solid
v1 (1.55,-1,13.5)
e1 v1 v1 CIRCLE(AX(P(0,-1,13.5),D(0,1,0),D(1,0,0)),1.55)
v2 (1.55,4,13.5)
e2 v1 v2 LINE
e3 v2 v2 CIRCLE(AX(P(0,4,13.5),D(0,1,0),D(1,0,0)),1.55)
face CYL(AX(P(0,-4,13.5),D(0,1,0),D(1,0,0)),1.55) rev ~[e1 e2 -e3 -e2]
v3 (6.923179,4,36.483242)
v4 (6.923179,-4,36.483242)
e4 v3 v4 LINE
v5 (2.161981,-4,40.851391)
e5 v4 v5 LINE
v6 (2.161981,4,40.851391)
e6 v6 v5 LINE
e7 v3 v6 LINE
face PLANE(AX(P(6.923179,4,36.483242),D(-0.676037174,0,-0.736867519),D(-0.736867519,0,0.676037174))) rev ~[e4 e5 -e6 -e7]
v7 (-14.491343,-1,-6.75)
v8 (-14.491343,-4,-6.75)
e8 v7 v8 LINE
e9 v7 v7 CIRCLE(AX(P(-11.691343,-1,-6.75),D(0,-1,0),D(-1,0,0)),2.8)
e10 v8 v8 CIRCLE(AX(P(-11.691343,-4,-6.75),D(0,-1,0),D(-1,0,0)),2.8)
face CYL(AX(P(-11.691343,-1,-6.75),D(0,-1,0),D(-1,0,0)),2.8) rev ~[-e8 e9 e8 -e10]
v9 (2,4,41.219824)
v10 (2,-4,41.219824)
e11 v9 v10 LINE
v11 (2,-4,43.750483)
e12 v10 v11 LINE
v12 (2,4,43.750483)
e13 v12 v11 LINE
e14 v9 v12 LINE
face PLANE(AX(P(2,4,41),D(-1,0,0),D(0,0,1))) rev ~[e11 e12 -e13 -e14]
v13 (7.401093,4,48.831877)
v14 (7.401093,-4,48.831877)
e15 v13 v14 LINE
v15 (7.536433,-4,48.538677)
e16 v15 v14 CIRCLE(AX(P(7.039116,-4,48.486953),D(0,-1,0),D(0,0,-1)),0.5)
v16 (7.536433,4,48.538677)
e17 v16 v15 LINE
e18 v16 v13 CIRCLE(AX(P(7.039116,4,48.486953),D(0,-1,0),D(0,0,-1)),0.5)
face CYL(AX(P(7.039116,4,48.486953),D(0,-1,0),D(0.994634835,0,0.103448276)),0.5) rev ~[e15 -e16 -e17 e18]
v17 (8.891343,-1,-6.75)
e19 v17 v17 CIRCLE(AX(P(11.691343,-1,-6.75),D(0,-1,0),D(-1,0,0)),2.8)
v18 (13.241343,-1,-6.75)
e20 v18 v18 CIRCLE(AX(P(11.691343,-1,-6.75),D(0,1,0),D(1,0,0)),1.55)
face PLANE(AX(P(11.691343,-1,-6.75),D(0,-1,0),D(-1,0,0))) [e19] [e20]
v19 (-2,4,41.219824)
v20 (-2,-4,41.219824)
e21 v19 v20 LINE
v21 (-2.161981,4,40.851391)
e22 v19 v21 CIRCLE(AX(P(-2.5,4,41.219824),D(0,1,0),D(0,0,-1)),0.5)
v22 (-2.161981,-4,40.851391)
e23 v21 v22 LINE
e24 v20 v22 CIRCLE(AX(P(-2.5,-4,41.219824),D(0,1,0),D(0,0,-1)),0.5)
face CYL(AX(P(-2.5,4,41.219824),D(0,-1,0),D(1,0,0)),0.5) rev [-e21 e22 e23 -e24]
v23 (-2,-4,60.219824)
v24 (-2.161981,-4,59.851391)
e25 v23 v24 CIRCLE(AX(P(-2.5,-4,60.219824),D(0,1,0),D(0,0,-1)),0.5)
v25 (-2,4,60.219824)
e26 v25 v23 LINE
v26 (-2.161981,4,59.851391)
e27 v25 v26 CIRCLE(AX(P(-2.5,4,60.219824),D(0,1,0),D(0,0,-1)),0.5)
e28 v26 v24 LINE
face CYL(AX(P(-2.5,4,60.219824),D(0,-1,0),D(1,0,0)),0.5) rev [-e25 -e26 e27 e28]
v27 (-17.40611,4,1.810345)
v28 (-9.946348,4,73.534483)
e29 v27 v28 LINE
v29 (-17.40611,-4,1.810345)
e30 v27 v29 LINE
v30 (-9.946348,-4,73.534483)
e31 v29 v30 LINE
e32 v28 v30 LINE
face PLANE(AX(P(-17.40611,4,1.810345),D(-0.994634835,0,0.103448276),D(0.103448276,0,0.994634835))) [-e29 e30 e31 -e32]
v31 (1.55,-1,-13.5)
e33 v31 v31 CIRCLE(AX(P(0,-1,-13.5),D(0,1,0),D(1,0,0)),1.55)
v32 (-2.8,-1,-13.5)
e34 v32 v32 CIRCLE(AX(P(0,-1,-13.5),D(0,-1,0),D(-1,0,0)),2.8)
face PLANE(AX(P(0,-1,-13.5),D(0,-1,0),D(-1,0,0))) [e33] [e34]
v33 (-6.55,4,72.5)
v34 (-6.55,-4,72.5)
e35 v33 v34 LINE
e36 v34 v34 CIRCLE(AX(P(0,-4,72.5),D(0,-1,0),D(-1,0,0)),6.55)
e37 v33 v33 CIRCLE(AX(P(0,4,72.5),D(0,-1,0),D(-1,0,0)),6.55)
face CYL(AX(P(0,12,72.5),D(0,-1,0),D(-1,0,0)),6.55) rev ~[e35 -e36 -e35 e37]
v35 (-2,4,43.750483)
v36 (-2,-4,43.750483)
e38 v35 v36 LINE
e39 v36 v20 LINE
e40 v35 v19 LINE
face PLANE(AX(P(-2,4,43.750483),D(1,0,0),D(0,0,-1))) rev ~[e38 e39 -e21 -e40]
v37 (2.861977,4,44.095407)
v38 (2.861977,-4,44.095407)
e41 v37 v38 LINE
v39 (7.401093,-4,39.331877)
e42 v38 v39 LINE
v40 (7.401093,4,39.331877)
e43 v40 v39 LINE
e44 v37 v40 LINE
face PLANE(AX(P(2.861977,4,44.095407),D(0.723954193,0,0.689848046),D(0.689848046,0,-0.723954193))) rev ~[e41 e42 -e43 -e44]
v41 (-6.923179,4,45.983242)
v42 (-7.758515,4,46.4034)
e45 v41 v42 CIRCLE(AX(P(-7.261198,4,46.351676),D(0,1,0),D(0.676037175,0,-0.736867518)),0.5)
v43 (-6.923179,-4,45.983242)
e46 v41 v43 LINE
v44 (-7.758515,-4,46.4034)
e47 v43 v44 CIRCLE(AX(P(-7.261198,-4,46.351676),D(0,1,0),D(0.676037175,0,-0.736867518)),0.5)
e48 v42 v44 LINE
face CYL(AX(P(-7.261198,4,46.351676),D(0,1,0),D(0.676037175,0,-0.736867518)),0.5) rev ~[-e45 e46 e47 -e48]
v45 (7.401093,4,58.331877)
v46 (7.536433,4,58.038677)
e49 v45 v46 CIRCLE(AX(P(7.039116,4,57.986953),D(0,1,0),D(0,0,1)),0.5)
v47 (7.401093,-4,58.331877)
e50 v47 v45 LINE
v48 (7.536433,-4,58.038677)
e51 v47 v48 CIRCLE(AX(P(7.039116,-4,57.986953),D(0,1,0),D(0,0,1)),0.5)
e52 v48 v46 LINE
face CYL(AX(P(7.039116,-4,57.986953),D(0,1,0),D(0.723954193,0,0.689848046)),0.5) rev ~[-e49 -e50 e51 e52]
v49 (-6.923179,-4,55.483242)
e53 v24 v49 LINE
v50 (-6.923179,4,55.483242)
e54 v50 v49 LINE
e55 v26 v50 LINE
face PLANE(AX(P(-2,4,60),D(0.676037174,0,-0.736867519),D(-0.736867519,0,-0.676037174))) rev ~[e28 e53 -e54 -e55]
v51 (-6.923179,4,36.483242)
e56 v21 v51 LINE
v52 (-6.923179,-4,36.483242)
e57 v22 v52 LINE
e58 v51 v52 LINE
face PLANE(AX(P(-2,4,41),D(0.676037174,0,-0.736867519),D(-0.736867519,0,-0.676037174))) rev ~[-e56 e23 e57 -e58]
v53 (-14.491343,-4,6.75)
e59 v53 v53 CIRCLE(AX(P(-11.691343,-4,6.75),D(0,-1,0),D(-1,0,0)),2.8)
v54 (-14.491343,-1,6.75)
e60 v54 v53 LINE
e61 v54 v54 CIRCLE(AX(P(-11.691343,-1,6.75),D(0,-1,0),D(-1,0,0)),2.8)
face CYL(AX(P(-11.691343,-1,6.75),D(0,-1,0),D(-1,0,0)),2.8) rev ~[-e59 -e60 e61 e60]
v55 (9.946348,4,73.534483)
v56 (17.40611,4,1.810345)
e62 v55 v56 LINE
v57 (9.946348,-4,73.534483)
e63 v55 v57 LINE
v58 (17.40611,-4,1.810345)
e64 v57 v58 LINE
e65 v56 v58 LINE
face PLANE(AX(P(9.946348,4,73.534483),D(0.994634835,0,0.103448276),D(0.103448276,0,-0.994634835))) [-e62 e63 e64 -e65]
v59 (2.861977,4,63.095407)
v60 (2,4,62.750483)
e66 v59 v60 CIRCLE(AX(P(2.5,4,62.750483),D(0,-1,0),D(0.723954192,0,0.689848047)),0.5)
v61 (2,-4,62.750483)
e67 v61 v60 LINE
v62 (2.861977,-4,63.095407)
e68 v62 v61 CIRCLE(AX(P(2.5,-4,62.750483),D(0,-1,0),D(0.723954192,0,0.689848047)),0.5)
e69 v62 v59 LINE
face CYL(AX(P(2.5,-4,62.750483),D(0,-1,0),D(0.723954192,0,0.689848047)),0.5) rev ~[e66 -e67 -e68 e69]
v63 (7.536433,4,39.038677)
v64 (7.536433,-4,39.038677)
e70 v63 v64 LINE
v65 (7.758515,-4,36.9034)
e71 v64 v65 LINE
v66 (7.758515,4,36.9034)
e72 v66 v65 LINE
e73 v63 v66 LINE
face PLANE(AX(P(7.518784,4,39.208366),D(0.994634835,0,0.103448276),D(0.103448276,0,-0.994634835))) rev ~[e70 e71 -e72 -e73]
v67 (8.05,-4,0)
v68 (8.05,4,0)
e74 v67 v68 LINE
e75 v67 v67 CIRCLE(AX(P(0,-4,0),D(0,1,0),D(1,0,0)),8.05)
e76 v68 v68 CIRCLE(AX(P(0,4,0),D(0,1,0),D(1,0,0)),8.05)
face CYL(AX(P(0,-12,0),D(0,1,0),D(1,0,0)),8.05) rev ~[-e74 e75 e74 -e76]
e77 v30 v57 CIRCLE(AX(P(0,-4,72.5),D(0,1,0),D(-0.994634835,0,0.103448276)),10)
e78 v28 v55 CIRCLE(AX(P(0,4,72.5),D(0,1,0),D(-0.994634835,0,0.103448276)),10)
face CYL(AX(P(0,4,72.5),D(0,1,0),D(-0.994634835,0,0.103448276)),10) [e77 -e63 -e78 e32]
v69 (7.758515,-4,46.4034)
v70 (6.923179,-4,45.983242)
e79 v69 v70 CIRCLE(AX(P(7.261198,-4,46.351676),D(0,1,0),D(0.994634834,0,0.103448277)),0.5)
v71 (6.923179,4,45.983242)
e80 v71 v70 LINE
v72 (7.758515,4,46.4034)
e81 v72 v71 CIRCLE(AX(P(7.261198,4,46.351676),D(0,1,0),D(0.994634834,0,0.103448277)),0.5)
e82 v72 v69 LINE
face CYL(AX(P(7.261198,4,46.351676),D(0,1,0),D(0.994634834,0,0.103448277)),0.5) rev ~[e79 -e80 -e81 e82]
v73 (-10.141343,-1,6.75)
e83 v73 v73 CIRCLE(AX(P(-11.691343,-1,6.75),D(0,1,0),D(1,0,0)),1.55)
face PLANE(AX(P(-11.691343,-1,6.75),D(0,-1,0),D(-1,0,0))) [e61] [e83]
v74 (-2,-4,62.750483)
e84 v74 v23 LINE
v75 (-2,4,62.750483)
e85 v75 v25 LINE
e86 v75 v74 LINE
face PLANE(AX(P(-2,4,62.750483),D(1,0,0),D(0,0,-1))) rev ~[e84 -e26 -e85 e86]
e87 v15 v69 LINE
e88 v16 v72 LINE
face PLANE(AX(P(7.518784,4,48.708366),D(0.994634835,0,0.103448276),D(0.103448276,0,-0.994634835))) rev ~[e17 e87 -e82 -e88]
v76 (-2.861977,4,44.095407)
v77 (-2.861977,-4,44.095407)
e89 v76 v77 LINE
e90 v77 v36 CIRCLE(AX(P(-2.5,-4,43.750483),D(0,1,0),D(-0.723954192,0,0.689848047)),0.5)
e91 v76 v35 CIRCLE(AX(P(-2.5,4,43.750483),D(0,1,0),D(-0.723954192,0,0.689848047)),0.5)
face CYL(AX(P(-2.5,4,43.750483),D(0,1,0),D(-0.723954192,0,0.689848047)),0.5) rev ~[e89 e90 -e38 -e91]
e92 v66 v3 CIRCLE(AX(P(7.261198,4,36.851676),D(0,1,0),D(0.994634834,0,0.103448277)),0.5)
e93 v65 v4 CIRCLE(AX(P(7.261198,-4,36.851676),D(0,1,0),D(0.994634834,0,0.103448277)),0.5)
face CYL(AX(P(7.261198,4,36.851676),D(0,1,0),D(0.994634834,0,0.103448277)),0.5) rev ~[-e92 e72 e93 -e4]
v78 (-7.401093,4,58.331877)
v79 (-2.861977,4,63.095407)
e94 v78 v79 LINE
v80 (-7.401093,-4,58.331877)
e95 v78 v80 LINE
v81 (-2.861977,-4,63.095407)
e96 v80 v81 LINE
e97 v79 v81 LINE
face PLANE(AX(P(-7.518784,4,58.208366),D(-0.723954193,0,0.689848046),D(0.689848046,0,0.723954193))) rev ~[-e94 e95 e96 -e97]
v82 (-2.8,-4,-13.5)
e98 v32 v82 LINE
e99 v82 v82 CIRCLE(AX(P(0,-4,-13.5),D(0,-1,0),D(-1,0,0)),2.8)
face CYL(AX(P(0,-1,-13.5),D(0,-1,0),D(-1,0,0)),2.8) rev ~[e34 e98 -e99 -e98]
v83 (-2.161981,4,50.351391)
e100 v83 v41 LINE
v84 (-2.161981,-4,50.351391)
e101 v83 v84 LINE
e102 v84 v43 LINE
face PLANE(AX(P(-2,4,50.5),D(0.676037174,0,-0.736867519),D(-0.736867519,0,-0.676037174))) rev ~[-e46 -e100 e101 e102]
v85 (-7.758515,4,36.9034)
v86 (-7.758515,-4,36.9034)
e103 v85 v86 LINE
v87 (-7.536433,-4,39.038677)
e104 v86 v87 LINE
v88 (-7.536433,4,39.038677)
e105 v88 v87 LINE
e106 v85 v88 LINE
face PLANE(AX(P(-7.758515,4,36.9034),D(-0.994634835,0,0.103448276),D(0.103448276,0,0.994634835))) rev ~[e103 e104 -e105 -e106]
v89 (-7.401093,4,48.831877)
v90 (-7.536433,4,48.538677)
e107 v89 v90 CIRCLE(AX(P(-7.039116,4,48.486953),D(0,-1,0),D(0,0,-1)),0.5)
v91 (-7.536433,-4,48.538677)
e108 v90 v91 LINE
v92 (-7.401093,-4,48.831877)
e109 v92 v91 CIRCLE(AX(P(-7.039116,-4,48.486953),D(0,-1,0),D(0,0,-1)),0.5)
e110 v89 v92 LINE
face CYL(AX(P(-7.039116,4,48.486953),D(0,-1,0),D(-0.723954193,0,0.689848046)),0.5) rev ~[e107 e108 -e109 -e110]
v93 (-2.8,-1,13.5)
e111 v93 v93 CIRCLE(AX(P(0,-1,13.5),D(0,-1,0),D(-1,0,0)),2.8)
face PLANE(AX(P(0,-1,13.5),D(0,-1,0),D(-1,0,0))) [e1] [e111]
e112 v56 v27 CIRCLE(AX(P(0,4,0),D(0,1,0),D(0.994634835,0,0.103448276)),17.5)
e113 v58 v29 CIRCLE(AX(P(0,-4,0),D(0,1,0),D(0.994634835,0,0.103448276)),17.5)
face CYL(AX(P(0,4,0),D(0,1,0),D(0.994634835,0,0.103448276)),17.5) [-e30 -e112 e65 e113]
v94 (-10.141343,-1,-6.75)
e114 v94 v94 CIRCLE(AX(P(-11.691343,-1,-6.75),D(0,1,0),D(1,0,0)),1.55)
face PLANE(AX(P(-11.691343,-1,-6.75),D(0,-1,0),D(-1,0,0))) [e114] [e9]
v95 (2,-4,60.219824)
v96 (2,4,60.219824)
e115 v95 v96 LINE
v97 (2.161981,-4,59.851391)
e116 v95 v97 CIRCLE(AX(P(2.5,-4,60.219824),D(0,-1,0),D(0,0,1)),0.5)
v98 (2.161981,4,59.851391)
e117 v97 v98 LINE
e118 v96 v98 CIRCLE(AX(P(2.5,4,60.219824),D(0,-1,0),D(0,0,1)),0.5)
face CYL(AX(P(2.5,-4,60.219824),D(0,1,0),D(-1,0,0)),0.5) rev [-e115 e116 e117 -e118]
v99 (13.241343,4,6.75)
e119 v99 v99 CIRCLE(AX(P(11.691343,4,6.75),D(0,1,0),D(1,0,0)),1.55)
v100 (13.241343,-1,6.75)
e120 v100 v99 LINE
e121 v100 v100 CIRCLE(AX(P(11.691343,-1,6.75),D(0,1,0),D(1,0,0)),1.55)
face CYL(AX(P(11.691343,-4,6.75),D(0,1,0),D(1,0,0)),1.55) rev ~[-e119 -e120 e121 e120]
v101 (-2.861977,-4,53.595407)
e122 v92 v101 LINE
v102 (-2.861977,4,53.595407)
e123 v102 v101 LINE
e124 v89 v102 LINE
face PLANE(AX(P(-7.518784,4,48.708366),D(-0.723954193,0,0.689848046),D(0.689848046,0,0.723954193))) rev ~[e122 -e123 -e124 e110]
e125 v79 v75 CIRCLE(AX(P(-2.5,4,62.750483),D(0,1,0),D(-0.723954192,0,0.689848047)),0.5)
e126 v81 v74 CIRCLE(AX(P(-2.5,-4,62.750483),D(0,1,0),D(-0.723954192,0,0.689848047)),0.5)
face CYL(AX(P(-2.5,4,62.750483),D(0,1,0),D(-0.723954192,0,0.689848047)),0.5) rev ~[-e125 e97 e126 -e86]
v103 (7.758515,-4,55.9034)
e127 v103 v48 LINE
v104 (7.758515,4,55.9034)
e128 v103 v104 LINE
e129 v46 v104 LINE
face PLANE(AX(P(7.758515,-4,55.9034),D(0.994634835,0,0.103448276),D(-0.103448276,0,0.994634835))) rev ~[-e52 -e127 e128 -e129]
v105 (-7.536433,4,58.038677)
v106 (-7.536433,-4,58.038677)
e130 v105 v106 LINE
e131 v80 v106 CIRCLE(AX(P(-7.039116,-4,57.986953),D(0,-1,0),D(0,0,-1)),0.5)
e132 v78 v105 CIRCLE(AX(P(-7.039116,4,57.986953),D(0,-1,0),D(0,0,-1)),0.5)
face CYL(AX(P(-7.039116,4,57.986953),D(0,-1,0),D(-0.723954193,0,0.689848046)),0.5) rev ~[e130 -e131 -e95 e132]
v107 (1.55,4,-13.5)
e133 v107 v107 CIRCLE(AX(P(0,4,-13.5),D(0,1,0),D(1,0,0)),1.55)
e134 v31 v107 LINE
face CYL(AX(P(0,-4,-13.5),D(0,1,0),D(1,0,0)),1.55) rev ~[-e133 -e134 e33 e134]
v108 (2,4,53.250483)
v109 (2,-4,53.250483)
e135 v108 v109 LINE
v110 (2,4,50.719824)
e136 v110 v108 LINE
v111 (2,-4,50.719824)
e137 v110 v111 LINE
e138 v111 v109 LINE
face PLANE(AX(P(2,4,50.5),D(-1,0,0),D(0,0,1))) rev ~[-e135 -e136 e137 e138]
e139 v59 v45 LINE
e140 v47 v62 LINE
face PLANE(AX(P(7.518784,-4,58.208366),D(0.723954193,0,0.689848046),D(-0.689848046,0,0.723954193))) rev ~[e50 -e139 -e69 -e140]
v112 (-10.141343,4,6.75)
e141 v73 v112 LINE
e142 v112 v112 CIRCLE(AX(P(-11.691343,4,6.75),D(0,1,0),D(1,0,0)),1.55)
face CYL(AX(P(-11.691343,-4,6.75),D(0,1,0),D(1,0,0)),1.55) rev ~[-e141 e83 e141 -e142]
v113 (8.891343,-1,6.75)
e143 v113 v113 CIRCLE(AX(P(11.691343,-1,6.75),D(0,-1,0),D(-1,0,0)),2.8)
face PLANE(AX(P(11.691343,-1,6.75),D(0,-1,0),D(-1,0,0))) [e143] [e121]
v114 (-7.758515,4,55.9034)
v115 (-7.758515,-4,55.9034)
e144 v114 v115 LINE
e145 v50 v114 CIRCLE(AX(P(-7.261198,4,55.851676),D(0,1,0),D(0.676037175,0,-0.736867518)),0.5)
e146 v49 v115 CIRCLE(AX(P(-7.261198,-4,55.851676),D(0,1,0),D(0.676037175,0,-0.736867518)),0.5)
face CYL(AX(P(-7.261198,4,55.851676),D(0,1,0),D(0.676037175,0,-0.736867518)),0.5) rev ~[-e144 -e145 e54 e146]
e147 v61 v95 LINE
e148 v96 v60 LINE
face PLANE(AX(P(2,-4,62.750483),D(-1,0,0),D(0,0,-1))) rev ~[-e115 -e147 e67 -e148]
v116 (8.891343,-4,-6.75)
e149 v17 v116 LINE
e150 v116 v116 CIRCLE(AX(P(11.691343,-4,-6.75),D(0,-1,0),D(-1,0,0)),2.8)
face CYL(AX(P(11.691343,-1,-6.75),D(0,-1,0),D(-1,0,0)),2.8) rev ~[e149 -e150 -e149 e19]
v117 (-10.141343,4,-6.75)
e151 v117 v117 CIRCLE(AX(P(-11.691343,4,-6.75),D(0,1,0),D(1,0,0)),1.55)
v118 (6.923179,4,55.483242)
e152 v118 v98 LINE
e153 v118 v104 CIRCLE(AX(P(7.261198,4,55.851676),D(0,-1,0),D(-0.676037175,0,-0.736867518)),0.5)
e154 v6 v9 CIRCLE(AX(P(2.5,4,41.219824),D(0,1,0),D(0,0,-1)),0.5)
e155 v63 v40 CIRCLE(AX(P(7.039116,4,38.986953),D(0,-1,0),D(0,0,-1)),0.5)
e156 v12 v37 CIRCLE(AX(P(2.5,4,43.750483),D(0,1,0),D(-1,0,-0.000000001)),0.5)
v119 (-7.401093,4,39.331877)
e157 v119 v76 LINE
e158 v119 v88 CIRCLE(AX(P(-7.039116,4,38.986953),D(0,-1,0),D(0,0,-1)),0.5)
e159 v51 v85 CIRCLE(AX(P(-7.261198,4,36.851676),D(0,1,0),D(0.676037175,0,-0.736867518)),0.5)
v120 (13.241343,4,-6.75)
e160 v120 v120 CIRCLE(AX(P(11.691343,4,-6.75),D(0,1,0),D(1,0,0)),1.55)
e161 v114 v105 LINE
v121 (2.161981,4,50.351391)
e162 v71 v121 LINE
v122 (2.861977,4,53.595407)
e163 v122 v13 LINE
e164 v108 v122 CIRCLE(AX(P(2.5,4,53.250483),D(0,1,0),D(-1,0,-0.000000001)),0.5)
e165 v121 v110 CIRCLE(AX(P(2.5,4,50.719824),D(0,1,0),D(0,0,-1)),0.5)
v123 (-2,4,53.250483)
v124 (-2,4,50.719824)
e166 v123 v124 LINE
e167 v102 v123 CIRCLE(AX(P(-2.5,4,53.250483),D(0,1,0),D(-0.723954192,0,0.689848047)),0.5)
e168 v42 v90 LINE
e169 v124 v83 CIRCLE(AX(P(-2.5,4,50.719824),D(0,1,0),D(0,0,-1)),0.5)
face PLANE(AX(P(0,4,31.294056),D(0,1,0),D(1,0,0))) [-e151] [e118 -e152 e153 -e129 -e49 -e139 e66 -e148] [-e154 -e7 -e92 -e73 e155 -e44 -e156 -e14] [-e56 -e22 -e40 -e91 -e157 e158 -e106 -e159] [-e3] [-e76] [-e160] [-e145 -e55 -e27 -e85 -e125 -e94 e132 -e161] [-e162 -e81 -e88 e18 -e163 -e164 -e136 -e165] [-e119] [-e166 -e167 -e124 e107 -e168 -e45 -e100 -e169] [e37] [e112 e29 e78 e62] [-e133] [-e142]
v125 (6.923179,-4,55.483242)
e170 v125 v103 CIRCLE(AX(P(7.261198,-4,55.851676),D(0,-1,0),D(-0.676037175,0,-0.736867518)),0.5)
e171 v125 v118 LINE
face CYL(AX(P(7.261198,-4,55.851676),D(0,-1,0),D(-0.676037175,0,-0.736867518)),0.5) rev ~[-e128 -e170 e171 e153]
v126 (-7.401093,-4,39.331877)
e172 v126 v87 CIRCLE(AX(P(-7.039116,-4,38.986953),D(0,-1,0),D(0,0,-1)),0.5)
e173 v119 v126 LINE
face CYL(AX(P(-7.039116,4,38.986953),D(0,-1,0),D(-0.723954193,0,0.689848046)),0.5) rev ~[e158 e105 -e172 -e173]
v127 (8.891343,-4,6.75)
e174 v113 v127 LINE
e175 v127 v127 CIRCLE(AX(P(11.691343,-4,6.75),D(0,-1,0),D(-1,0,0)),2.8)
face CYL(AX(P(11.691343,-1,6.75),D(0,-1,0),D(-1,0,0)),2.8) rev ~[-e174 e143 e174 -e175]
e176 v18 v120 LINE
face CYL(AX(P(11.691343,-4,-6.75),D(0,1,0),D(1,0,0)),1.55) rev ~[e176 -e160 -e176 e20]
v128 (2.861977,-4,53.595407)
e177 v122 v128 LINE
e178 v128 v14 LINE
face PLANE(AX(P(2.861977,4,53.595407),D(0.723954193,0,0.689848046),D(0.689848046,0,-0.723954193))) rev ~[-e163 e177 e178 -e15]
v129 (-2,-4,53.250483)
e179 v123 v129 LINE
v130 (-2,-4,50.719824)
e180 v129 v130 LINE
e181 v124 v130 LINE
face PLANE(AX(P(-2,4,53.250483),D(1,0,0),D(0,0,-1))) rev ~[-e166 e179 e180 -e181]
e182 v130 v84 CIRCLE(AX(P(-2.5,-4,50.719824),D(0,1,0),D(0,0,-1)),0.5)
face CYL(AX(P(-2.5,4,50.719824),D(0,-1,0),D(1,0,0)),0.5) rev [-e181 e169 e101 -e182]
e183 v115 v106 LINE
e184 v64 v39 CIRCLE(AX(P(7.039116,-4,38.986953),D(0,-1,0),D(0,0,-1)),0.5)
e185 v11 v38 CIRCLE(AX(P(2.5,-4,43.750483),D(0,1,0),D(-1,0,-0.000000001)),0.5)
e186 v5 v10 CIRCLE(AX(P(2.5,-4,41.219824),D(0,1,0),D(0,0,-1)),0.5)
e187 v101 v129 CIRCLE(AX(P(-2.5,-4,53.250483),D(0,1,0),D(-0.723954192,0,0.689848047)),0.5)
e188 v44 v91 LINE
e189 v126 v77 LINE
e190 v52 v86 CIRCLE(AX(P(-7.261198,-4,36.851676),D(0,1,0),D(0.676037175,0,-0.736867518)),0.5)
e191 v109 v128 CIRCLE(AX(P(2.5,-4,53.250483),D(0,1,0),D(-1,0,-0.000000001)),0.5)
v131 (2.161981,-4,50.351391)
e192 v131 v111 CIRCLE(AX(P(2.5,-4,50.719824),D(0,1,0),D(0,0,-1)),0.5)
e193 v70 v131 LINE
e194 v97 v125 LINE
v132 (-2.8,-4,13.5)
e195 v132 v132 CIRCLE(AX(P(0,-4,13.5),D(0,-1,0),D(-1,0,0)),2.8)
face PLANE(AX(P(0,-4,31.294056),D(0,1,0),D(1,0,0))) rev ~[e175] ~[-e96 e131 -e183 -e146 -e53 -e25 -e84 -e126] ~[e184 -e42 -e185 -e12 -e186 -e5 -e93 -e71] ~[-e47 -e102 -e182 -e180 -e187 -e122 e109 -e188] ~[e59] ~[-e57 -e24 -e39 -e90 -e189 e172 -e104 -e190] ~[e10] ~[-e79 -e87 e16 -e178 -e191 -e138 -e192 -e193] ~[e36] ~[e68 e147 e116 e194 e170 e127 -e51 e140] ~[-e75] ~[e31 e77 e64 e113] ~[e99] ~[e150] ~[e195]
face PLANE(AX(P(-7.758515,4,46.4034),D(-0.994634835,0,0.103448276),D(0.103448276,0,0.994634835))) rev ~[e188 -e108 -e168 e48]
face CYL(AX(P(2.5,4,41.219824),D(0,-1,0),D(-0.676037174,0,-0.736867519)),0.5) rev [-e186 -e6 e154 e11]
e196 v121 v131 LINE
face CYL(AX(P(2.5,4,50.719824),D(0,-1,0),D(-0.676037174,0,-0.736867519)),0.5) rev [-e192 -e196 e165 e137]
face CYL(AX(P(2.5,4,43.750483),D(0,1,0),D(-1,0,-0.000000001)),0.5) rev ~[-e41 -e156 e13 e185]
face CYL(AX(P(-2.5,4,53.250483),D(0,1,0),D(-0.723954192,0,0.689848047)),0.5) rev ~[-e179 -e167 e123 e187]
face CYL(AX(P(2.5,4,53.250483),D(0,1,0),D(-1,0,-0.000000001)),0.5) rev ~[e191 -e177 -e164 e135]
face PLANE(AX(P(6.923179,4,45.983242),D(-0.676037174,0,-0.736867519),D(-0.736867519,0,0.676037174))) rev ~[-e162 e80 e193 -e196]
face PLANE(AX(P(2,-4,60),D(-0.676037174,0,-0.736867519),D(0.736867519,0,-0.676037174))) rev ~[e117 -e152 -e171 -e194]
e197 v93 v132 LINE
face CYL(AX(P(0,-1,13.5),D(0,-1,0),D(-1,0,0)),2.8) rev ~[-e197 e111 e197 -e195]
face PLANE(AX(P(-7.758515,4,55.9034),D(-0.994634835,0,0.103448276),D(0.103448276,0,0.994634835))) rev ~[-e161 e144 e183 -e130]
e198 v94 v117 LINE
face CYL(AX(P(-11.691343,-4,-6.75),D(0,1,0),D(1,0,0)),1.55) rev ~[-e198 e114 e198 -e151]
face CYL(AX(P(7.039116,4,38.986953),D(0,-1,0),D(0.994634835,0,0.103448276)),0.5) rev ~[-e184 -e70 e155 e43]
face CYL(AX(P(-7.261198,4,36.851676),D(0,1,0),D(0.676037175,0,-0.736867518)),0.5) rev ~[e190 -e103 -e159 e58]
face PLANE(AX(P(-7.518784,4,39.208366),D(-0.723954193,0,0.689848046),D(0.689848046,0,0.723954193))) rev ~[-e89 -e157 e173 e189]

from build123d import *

# Parameters (mm, degrees)
EXTRUDE_1_DEPTH                = 8
CUT_EXTRUDE_1_DEPTH            = 9
CUT_EXTRUDE_2_DEPTH            = 9
CUT_EXTRUDE_3_DEPTH            = 9
CUT_EXTRUDE_4_DEPTH            = 9
CUT_EXTRUDE_5_DEPTH            = 9
CUT_EXTRUDE_6_DEPTH            = 9
HOLE_WIZARD_16_0_16_1_D        = 16.1
HOLE_WIZARD_16_0_16_1_DEPTH    = 8
HOLE_WIZARD_13_0_13_1_D        = 13.1
HOLE_WIZARD_13_0_13_1_DEPTH    = 8
HOLE_WIZARD_M2_5_1_D           = 3.1
HOLE_WIZARD_M2_5_1_DEPTH       = 8
HOLE_WIZARD_M2_5_1_CBORE_D     = 5.6
HOLE_WIZARD_M2_5_1_CBORE_DEPTH = 3
FILLET_1_R                     = 0.5


with BuildPart() as part:
    # 草图1 → 凸台-拉伸1 (new body)
    with BuildSketch(Plane(origin=(0, 4, 0), x_dir=(1, 0, 0), z_dir=(0, 1, 0))):
        with BuildLine():
            Line((-17.406109606, -1.810344828), (-9.946348346, -73.534482759))
            ThreePointArc((-9.946348346, -73.534482759), (0, -82.5), (9.946348346, -73.534482759))
            Line((9.946348346, -73.534482759), (17.406109606, -1.810344828))
            ThreePointArc((17.406109606, -1.810344828), (0, 17.5), (-17.406109606, -1.810344828))
        make_face()
    extrude(amount=-EXTRUDE_1_DEPTH)

    # 草图2 → 切除-拉伸1 (cut, through all)
    with BuildSketch(Plane(origin=(0, 4, 0), x_dir=(-1, 0, 0), z_dir=(0, 1, 0))):
        with BuildLine():
            Line((2, 43.750482659), (2, 41))
            Line((2, 41), (6.923179382, 36.483241979))
            ThreePointArc((6.923179382, 36.483241979), (7.485869271, 36.40499598), (7.758515386, 36.903399876))
            Line((7.758515386, 36.903399876), (7.518784371, 39.208366459))
            Line((7.518784371, 39.208366459), (2.861977096, 44.095406683))
            ThreePointArc((2.861977096, 44.095406683), (2.314242831, 44.214696268), (2, 43.750482659))
        make_face()
    extrude(amount=-CUT_EXTRUDE_1_DEPTH, mode=Mode.SUBTRACT)

    # 草图3 → 切除-拉伸2 (cut, through all)
    with BuildSketch(Plane(origin=(0, 4, 0), x_dir=(-1, 0, 0), z_dir=(0, 1, 0))):
        with BuildLine():
            Line((-6.923179382, 36.483241979), (-2, 41))
            Line((-2, 41), (-2, 43.750482659))
            ThreePointArc((-2, 43.750482659), (-2.314242831, 44.214696268), (-2.861977096, 44.095406683))
            Line((-2.861977096, 44.095406683), (-7.518784371, 39.208366459))
            Line((-7.518784371, 39.208366459), (-7.758515386, 36.903399876))
            ThreePointArc((-7.758515386, 36.903399876), (-7.485869271, 36.40499598), (-6.923179382, 36.483241979))
        make_face()
    extrude(amount=-CUT_EXTRUDE_2_DEPTH, mode=Mode.SUBTRACT)

    # 草图4 → 切除-拉伸3 (cut, through all)
    with BuildSketch(Plane(origin=(0, 4, 0), x_dir=(-1, 0, 0), z_dir=(0, 1, 0))):
        with BuildLine():
            Line((2, 53.250482659), (2, 50.5))
            Line((2, 50.5), (6.923179382, 45.983241979))
            ThreePointArc((6.923179382, 45.983241979), (7.485869271, 45.90499598), (7.758515386, 46.403399876))
            Line((7.758515386, 46.403399876), (7.518784371, 48.708366459))
            Line((7.518784371, 48.708366459), (2.861977096, 53.595406683))
            ThreePointArc((2.861977096, 53.595406683), (2.314242831, 53.714696268), (2, 53.250482659))
        make_face()
    extrude(amount=-CUT_EXTRUDE_3_DEPTH, mode=Mode.SUBTRACT)

    # 草图5 → 切除-拉伸4 (cut, through all)
    with BuildSketch(Plane(origin=(0, 4, 0), x_dir=(-1, 0, 0), z_dir=(0, 1, 0))):
        with BuildLine():
            Line((-6.923179382, 45.983241979), (-2, 50.5))
            Line((-2, 50.5), (-2, 53.250482659))
            ThreePointArc((-2, 53.250482659), (-2.314242831, 53.714696268), (-2.861977096, 53.595406683))
            Line((-2.861977096, 53.595406683), (-7.518784371, 48.708366459))
            Line((-7.518784371, 48.708366459), (-7.758515386, 46.403399876))
            ThreePointArc((-7.758515386, 46.403399876), (-7.485869271, 45.90499598), (-6.923179382, 45.983241979))
        make_face()
    extrude(amount=-CUT_EXTRUDE_4_DEPTH, mode=Mode.SUBTRACT)

    # 草图6 → 切除-拉伸5 (cut, through all)
    with BuildSketch(Plane(origin=(0, 4, 0), x_dir=(-1, 0, 0), z_dir=(0, 1, 0))):
        with BuildLine():
            Line((2, 62.750482659), (2, 60))
            Line((2, 60), (6.923179382, 55.483241979))
            ThreePointArc((6.923179382, 55.483241979), (7.485869271, 55.40499598), (7.758515386, 55.903399876))
            Line((7.758515386, 55.903399876), (7.518784371, 58.208366459))
            Line((7.518784371, 58.208366459), (2.861977096, 63.095406683))
            ThreePointArc((2.861977096, 63.095406683), (2.314242831, 63.214696268), (2, 62.750482659))
        make_face()
    extrude(amount=-CUT_EXTRUDE_5_DEPTH, mode=Mode.SUBTRACT)

    # 草图7 → 切除-拉伸6 (cut, through all)
    with BuildSketch(Plane.XZ.offset(4)):
        with BuildLine():
            Line((2, 62.750482659), (2, 60))
            Line((2, 60), (6.923179382, 55.483241979))
            ThreePointArc((6.923179382, 55.483241979), (7.485869271, 55.40499598), (7.758515386, 55.903399876))
            Line((7.758515386, 55.903399876), (7.518784371, 58.208366459))
            Line((7.518784371, 58.208366459), (2.861977096, 63.095406683))
            ThreePointArc((2.861977096, 63.095406683), (2.314242831, 63.214696268), (2, 62.750482659))
        make_face()
    extrude(amount=-CUT_EXTRUDE_6_DEPTH, mode=Mode.SUBTRACT)

    # Ø16.0 (16) 直径孔1
    with Locations(Plane(origin=(0, -4, 0), x_dir=(-1, 0, 0), z_dir=(0, -1, 0))):
        with Locations((0, 0)):
            Hole(HOLE_WIZARD_16_0_16_1_D / 2, depth=HOLE_WIZARD_16_0_16_1_DEPTH)

    # Ø13.0 (13) 直径孔1
    with Locations(Plane(origin=(0, 4, 0), x_dir=(1, 0, 0), z_dir=(0, 1, 0))):
        with Locations((0, -72.5)):
            Hole(HOLE_WIZARD_13_0_13_1_D / 2, depth=HOLE_WIZARD_13_0_13_1_DEPTH)

    # M2.5 六角头机械螺钉的柱形沉头孔1
    with Locations(Plane(origin=(0, -4, 0), x_dir=(-1, 0, 0), z_dir=(0, -1, 0))):
        with Locations((11.691342951, -6.75), (11.691342951, 6.75), (0, 13.5), (-11.691342951, 6.75), (-11.691342951, -6.75), (0, -13.5)):
            CounterBoreHole(HOLE_WIZARD_M2_5_1_D / 2, HOLE_WIZARD_M2_5_1_CBORE_D / 2, HOLE_WIZARD_M2_5_1_CBORE_DEPTH, depth=HOLE_WIZARD_M2_5_1_DEPTH)

    # 圆角1
    fillet_1_edges = [part.edges().sort_by_distance(p)[0] for p in [
        (-7.518784371, 0, 58.208366459),
        (-2, 0, 60),
        (7.518784371, 0, 58.208366459),
        (2, 0, 60),
        (-7.518784371, 0, 39.208366459),
        (-2, 0, 41),
        (7.518784371, 0, 39.208366459),
        (2, 0, 41),
        (-7.518784371, 0, 48.708366459),
        (-2, 0, 50.5),
        (7.518784371, 0, 48.708366459),
        (2, 0, 50.5),
    ]]
    fillet(fillet_1_edges, radius=FILLET_1_R)


solid = part.part
